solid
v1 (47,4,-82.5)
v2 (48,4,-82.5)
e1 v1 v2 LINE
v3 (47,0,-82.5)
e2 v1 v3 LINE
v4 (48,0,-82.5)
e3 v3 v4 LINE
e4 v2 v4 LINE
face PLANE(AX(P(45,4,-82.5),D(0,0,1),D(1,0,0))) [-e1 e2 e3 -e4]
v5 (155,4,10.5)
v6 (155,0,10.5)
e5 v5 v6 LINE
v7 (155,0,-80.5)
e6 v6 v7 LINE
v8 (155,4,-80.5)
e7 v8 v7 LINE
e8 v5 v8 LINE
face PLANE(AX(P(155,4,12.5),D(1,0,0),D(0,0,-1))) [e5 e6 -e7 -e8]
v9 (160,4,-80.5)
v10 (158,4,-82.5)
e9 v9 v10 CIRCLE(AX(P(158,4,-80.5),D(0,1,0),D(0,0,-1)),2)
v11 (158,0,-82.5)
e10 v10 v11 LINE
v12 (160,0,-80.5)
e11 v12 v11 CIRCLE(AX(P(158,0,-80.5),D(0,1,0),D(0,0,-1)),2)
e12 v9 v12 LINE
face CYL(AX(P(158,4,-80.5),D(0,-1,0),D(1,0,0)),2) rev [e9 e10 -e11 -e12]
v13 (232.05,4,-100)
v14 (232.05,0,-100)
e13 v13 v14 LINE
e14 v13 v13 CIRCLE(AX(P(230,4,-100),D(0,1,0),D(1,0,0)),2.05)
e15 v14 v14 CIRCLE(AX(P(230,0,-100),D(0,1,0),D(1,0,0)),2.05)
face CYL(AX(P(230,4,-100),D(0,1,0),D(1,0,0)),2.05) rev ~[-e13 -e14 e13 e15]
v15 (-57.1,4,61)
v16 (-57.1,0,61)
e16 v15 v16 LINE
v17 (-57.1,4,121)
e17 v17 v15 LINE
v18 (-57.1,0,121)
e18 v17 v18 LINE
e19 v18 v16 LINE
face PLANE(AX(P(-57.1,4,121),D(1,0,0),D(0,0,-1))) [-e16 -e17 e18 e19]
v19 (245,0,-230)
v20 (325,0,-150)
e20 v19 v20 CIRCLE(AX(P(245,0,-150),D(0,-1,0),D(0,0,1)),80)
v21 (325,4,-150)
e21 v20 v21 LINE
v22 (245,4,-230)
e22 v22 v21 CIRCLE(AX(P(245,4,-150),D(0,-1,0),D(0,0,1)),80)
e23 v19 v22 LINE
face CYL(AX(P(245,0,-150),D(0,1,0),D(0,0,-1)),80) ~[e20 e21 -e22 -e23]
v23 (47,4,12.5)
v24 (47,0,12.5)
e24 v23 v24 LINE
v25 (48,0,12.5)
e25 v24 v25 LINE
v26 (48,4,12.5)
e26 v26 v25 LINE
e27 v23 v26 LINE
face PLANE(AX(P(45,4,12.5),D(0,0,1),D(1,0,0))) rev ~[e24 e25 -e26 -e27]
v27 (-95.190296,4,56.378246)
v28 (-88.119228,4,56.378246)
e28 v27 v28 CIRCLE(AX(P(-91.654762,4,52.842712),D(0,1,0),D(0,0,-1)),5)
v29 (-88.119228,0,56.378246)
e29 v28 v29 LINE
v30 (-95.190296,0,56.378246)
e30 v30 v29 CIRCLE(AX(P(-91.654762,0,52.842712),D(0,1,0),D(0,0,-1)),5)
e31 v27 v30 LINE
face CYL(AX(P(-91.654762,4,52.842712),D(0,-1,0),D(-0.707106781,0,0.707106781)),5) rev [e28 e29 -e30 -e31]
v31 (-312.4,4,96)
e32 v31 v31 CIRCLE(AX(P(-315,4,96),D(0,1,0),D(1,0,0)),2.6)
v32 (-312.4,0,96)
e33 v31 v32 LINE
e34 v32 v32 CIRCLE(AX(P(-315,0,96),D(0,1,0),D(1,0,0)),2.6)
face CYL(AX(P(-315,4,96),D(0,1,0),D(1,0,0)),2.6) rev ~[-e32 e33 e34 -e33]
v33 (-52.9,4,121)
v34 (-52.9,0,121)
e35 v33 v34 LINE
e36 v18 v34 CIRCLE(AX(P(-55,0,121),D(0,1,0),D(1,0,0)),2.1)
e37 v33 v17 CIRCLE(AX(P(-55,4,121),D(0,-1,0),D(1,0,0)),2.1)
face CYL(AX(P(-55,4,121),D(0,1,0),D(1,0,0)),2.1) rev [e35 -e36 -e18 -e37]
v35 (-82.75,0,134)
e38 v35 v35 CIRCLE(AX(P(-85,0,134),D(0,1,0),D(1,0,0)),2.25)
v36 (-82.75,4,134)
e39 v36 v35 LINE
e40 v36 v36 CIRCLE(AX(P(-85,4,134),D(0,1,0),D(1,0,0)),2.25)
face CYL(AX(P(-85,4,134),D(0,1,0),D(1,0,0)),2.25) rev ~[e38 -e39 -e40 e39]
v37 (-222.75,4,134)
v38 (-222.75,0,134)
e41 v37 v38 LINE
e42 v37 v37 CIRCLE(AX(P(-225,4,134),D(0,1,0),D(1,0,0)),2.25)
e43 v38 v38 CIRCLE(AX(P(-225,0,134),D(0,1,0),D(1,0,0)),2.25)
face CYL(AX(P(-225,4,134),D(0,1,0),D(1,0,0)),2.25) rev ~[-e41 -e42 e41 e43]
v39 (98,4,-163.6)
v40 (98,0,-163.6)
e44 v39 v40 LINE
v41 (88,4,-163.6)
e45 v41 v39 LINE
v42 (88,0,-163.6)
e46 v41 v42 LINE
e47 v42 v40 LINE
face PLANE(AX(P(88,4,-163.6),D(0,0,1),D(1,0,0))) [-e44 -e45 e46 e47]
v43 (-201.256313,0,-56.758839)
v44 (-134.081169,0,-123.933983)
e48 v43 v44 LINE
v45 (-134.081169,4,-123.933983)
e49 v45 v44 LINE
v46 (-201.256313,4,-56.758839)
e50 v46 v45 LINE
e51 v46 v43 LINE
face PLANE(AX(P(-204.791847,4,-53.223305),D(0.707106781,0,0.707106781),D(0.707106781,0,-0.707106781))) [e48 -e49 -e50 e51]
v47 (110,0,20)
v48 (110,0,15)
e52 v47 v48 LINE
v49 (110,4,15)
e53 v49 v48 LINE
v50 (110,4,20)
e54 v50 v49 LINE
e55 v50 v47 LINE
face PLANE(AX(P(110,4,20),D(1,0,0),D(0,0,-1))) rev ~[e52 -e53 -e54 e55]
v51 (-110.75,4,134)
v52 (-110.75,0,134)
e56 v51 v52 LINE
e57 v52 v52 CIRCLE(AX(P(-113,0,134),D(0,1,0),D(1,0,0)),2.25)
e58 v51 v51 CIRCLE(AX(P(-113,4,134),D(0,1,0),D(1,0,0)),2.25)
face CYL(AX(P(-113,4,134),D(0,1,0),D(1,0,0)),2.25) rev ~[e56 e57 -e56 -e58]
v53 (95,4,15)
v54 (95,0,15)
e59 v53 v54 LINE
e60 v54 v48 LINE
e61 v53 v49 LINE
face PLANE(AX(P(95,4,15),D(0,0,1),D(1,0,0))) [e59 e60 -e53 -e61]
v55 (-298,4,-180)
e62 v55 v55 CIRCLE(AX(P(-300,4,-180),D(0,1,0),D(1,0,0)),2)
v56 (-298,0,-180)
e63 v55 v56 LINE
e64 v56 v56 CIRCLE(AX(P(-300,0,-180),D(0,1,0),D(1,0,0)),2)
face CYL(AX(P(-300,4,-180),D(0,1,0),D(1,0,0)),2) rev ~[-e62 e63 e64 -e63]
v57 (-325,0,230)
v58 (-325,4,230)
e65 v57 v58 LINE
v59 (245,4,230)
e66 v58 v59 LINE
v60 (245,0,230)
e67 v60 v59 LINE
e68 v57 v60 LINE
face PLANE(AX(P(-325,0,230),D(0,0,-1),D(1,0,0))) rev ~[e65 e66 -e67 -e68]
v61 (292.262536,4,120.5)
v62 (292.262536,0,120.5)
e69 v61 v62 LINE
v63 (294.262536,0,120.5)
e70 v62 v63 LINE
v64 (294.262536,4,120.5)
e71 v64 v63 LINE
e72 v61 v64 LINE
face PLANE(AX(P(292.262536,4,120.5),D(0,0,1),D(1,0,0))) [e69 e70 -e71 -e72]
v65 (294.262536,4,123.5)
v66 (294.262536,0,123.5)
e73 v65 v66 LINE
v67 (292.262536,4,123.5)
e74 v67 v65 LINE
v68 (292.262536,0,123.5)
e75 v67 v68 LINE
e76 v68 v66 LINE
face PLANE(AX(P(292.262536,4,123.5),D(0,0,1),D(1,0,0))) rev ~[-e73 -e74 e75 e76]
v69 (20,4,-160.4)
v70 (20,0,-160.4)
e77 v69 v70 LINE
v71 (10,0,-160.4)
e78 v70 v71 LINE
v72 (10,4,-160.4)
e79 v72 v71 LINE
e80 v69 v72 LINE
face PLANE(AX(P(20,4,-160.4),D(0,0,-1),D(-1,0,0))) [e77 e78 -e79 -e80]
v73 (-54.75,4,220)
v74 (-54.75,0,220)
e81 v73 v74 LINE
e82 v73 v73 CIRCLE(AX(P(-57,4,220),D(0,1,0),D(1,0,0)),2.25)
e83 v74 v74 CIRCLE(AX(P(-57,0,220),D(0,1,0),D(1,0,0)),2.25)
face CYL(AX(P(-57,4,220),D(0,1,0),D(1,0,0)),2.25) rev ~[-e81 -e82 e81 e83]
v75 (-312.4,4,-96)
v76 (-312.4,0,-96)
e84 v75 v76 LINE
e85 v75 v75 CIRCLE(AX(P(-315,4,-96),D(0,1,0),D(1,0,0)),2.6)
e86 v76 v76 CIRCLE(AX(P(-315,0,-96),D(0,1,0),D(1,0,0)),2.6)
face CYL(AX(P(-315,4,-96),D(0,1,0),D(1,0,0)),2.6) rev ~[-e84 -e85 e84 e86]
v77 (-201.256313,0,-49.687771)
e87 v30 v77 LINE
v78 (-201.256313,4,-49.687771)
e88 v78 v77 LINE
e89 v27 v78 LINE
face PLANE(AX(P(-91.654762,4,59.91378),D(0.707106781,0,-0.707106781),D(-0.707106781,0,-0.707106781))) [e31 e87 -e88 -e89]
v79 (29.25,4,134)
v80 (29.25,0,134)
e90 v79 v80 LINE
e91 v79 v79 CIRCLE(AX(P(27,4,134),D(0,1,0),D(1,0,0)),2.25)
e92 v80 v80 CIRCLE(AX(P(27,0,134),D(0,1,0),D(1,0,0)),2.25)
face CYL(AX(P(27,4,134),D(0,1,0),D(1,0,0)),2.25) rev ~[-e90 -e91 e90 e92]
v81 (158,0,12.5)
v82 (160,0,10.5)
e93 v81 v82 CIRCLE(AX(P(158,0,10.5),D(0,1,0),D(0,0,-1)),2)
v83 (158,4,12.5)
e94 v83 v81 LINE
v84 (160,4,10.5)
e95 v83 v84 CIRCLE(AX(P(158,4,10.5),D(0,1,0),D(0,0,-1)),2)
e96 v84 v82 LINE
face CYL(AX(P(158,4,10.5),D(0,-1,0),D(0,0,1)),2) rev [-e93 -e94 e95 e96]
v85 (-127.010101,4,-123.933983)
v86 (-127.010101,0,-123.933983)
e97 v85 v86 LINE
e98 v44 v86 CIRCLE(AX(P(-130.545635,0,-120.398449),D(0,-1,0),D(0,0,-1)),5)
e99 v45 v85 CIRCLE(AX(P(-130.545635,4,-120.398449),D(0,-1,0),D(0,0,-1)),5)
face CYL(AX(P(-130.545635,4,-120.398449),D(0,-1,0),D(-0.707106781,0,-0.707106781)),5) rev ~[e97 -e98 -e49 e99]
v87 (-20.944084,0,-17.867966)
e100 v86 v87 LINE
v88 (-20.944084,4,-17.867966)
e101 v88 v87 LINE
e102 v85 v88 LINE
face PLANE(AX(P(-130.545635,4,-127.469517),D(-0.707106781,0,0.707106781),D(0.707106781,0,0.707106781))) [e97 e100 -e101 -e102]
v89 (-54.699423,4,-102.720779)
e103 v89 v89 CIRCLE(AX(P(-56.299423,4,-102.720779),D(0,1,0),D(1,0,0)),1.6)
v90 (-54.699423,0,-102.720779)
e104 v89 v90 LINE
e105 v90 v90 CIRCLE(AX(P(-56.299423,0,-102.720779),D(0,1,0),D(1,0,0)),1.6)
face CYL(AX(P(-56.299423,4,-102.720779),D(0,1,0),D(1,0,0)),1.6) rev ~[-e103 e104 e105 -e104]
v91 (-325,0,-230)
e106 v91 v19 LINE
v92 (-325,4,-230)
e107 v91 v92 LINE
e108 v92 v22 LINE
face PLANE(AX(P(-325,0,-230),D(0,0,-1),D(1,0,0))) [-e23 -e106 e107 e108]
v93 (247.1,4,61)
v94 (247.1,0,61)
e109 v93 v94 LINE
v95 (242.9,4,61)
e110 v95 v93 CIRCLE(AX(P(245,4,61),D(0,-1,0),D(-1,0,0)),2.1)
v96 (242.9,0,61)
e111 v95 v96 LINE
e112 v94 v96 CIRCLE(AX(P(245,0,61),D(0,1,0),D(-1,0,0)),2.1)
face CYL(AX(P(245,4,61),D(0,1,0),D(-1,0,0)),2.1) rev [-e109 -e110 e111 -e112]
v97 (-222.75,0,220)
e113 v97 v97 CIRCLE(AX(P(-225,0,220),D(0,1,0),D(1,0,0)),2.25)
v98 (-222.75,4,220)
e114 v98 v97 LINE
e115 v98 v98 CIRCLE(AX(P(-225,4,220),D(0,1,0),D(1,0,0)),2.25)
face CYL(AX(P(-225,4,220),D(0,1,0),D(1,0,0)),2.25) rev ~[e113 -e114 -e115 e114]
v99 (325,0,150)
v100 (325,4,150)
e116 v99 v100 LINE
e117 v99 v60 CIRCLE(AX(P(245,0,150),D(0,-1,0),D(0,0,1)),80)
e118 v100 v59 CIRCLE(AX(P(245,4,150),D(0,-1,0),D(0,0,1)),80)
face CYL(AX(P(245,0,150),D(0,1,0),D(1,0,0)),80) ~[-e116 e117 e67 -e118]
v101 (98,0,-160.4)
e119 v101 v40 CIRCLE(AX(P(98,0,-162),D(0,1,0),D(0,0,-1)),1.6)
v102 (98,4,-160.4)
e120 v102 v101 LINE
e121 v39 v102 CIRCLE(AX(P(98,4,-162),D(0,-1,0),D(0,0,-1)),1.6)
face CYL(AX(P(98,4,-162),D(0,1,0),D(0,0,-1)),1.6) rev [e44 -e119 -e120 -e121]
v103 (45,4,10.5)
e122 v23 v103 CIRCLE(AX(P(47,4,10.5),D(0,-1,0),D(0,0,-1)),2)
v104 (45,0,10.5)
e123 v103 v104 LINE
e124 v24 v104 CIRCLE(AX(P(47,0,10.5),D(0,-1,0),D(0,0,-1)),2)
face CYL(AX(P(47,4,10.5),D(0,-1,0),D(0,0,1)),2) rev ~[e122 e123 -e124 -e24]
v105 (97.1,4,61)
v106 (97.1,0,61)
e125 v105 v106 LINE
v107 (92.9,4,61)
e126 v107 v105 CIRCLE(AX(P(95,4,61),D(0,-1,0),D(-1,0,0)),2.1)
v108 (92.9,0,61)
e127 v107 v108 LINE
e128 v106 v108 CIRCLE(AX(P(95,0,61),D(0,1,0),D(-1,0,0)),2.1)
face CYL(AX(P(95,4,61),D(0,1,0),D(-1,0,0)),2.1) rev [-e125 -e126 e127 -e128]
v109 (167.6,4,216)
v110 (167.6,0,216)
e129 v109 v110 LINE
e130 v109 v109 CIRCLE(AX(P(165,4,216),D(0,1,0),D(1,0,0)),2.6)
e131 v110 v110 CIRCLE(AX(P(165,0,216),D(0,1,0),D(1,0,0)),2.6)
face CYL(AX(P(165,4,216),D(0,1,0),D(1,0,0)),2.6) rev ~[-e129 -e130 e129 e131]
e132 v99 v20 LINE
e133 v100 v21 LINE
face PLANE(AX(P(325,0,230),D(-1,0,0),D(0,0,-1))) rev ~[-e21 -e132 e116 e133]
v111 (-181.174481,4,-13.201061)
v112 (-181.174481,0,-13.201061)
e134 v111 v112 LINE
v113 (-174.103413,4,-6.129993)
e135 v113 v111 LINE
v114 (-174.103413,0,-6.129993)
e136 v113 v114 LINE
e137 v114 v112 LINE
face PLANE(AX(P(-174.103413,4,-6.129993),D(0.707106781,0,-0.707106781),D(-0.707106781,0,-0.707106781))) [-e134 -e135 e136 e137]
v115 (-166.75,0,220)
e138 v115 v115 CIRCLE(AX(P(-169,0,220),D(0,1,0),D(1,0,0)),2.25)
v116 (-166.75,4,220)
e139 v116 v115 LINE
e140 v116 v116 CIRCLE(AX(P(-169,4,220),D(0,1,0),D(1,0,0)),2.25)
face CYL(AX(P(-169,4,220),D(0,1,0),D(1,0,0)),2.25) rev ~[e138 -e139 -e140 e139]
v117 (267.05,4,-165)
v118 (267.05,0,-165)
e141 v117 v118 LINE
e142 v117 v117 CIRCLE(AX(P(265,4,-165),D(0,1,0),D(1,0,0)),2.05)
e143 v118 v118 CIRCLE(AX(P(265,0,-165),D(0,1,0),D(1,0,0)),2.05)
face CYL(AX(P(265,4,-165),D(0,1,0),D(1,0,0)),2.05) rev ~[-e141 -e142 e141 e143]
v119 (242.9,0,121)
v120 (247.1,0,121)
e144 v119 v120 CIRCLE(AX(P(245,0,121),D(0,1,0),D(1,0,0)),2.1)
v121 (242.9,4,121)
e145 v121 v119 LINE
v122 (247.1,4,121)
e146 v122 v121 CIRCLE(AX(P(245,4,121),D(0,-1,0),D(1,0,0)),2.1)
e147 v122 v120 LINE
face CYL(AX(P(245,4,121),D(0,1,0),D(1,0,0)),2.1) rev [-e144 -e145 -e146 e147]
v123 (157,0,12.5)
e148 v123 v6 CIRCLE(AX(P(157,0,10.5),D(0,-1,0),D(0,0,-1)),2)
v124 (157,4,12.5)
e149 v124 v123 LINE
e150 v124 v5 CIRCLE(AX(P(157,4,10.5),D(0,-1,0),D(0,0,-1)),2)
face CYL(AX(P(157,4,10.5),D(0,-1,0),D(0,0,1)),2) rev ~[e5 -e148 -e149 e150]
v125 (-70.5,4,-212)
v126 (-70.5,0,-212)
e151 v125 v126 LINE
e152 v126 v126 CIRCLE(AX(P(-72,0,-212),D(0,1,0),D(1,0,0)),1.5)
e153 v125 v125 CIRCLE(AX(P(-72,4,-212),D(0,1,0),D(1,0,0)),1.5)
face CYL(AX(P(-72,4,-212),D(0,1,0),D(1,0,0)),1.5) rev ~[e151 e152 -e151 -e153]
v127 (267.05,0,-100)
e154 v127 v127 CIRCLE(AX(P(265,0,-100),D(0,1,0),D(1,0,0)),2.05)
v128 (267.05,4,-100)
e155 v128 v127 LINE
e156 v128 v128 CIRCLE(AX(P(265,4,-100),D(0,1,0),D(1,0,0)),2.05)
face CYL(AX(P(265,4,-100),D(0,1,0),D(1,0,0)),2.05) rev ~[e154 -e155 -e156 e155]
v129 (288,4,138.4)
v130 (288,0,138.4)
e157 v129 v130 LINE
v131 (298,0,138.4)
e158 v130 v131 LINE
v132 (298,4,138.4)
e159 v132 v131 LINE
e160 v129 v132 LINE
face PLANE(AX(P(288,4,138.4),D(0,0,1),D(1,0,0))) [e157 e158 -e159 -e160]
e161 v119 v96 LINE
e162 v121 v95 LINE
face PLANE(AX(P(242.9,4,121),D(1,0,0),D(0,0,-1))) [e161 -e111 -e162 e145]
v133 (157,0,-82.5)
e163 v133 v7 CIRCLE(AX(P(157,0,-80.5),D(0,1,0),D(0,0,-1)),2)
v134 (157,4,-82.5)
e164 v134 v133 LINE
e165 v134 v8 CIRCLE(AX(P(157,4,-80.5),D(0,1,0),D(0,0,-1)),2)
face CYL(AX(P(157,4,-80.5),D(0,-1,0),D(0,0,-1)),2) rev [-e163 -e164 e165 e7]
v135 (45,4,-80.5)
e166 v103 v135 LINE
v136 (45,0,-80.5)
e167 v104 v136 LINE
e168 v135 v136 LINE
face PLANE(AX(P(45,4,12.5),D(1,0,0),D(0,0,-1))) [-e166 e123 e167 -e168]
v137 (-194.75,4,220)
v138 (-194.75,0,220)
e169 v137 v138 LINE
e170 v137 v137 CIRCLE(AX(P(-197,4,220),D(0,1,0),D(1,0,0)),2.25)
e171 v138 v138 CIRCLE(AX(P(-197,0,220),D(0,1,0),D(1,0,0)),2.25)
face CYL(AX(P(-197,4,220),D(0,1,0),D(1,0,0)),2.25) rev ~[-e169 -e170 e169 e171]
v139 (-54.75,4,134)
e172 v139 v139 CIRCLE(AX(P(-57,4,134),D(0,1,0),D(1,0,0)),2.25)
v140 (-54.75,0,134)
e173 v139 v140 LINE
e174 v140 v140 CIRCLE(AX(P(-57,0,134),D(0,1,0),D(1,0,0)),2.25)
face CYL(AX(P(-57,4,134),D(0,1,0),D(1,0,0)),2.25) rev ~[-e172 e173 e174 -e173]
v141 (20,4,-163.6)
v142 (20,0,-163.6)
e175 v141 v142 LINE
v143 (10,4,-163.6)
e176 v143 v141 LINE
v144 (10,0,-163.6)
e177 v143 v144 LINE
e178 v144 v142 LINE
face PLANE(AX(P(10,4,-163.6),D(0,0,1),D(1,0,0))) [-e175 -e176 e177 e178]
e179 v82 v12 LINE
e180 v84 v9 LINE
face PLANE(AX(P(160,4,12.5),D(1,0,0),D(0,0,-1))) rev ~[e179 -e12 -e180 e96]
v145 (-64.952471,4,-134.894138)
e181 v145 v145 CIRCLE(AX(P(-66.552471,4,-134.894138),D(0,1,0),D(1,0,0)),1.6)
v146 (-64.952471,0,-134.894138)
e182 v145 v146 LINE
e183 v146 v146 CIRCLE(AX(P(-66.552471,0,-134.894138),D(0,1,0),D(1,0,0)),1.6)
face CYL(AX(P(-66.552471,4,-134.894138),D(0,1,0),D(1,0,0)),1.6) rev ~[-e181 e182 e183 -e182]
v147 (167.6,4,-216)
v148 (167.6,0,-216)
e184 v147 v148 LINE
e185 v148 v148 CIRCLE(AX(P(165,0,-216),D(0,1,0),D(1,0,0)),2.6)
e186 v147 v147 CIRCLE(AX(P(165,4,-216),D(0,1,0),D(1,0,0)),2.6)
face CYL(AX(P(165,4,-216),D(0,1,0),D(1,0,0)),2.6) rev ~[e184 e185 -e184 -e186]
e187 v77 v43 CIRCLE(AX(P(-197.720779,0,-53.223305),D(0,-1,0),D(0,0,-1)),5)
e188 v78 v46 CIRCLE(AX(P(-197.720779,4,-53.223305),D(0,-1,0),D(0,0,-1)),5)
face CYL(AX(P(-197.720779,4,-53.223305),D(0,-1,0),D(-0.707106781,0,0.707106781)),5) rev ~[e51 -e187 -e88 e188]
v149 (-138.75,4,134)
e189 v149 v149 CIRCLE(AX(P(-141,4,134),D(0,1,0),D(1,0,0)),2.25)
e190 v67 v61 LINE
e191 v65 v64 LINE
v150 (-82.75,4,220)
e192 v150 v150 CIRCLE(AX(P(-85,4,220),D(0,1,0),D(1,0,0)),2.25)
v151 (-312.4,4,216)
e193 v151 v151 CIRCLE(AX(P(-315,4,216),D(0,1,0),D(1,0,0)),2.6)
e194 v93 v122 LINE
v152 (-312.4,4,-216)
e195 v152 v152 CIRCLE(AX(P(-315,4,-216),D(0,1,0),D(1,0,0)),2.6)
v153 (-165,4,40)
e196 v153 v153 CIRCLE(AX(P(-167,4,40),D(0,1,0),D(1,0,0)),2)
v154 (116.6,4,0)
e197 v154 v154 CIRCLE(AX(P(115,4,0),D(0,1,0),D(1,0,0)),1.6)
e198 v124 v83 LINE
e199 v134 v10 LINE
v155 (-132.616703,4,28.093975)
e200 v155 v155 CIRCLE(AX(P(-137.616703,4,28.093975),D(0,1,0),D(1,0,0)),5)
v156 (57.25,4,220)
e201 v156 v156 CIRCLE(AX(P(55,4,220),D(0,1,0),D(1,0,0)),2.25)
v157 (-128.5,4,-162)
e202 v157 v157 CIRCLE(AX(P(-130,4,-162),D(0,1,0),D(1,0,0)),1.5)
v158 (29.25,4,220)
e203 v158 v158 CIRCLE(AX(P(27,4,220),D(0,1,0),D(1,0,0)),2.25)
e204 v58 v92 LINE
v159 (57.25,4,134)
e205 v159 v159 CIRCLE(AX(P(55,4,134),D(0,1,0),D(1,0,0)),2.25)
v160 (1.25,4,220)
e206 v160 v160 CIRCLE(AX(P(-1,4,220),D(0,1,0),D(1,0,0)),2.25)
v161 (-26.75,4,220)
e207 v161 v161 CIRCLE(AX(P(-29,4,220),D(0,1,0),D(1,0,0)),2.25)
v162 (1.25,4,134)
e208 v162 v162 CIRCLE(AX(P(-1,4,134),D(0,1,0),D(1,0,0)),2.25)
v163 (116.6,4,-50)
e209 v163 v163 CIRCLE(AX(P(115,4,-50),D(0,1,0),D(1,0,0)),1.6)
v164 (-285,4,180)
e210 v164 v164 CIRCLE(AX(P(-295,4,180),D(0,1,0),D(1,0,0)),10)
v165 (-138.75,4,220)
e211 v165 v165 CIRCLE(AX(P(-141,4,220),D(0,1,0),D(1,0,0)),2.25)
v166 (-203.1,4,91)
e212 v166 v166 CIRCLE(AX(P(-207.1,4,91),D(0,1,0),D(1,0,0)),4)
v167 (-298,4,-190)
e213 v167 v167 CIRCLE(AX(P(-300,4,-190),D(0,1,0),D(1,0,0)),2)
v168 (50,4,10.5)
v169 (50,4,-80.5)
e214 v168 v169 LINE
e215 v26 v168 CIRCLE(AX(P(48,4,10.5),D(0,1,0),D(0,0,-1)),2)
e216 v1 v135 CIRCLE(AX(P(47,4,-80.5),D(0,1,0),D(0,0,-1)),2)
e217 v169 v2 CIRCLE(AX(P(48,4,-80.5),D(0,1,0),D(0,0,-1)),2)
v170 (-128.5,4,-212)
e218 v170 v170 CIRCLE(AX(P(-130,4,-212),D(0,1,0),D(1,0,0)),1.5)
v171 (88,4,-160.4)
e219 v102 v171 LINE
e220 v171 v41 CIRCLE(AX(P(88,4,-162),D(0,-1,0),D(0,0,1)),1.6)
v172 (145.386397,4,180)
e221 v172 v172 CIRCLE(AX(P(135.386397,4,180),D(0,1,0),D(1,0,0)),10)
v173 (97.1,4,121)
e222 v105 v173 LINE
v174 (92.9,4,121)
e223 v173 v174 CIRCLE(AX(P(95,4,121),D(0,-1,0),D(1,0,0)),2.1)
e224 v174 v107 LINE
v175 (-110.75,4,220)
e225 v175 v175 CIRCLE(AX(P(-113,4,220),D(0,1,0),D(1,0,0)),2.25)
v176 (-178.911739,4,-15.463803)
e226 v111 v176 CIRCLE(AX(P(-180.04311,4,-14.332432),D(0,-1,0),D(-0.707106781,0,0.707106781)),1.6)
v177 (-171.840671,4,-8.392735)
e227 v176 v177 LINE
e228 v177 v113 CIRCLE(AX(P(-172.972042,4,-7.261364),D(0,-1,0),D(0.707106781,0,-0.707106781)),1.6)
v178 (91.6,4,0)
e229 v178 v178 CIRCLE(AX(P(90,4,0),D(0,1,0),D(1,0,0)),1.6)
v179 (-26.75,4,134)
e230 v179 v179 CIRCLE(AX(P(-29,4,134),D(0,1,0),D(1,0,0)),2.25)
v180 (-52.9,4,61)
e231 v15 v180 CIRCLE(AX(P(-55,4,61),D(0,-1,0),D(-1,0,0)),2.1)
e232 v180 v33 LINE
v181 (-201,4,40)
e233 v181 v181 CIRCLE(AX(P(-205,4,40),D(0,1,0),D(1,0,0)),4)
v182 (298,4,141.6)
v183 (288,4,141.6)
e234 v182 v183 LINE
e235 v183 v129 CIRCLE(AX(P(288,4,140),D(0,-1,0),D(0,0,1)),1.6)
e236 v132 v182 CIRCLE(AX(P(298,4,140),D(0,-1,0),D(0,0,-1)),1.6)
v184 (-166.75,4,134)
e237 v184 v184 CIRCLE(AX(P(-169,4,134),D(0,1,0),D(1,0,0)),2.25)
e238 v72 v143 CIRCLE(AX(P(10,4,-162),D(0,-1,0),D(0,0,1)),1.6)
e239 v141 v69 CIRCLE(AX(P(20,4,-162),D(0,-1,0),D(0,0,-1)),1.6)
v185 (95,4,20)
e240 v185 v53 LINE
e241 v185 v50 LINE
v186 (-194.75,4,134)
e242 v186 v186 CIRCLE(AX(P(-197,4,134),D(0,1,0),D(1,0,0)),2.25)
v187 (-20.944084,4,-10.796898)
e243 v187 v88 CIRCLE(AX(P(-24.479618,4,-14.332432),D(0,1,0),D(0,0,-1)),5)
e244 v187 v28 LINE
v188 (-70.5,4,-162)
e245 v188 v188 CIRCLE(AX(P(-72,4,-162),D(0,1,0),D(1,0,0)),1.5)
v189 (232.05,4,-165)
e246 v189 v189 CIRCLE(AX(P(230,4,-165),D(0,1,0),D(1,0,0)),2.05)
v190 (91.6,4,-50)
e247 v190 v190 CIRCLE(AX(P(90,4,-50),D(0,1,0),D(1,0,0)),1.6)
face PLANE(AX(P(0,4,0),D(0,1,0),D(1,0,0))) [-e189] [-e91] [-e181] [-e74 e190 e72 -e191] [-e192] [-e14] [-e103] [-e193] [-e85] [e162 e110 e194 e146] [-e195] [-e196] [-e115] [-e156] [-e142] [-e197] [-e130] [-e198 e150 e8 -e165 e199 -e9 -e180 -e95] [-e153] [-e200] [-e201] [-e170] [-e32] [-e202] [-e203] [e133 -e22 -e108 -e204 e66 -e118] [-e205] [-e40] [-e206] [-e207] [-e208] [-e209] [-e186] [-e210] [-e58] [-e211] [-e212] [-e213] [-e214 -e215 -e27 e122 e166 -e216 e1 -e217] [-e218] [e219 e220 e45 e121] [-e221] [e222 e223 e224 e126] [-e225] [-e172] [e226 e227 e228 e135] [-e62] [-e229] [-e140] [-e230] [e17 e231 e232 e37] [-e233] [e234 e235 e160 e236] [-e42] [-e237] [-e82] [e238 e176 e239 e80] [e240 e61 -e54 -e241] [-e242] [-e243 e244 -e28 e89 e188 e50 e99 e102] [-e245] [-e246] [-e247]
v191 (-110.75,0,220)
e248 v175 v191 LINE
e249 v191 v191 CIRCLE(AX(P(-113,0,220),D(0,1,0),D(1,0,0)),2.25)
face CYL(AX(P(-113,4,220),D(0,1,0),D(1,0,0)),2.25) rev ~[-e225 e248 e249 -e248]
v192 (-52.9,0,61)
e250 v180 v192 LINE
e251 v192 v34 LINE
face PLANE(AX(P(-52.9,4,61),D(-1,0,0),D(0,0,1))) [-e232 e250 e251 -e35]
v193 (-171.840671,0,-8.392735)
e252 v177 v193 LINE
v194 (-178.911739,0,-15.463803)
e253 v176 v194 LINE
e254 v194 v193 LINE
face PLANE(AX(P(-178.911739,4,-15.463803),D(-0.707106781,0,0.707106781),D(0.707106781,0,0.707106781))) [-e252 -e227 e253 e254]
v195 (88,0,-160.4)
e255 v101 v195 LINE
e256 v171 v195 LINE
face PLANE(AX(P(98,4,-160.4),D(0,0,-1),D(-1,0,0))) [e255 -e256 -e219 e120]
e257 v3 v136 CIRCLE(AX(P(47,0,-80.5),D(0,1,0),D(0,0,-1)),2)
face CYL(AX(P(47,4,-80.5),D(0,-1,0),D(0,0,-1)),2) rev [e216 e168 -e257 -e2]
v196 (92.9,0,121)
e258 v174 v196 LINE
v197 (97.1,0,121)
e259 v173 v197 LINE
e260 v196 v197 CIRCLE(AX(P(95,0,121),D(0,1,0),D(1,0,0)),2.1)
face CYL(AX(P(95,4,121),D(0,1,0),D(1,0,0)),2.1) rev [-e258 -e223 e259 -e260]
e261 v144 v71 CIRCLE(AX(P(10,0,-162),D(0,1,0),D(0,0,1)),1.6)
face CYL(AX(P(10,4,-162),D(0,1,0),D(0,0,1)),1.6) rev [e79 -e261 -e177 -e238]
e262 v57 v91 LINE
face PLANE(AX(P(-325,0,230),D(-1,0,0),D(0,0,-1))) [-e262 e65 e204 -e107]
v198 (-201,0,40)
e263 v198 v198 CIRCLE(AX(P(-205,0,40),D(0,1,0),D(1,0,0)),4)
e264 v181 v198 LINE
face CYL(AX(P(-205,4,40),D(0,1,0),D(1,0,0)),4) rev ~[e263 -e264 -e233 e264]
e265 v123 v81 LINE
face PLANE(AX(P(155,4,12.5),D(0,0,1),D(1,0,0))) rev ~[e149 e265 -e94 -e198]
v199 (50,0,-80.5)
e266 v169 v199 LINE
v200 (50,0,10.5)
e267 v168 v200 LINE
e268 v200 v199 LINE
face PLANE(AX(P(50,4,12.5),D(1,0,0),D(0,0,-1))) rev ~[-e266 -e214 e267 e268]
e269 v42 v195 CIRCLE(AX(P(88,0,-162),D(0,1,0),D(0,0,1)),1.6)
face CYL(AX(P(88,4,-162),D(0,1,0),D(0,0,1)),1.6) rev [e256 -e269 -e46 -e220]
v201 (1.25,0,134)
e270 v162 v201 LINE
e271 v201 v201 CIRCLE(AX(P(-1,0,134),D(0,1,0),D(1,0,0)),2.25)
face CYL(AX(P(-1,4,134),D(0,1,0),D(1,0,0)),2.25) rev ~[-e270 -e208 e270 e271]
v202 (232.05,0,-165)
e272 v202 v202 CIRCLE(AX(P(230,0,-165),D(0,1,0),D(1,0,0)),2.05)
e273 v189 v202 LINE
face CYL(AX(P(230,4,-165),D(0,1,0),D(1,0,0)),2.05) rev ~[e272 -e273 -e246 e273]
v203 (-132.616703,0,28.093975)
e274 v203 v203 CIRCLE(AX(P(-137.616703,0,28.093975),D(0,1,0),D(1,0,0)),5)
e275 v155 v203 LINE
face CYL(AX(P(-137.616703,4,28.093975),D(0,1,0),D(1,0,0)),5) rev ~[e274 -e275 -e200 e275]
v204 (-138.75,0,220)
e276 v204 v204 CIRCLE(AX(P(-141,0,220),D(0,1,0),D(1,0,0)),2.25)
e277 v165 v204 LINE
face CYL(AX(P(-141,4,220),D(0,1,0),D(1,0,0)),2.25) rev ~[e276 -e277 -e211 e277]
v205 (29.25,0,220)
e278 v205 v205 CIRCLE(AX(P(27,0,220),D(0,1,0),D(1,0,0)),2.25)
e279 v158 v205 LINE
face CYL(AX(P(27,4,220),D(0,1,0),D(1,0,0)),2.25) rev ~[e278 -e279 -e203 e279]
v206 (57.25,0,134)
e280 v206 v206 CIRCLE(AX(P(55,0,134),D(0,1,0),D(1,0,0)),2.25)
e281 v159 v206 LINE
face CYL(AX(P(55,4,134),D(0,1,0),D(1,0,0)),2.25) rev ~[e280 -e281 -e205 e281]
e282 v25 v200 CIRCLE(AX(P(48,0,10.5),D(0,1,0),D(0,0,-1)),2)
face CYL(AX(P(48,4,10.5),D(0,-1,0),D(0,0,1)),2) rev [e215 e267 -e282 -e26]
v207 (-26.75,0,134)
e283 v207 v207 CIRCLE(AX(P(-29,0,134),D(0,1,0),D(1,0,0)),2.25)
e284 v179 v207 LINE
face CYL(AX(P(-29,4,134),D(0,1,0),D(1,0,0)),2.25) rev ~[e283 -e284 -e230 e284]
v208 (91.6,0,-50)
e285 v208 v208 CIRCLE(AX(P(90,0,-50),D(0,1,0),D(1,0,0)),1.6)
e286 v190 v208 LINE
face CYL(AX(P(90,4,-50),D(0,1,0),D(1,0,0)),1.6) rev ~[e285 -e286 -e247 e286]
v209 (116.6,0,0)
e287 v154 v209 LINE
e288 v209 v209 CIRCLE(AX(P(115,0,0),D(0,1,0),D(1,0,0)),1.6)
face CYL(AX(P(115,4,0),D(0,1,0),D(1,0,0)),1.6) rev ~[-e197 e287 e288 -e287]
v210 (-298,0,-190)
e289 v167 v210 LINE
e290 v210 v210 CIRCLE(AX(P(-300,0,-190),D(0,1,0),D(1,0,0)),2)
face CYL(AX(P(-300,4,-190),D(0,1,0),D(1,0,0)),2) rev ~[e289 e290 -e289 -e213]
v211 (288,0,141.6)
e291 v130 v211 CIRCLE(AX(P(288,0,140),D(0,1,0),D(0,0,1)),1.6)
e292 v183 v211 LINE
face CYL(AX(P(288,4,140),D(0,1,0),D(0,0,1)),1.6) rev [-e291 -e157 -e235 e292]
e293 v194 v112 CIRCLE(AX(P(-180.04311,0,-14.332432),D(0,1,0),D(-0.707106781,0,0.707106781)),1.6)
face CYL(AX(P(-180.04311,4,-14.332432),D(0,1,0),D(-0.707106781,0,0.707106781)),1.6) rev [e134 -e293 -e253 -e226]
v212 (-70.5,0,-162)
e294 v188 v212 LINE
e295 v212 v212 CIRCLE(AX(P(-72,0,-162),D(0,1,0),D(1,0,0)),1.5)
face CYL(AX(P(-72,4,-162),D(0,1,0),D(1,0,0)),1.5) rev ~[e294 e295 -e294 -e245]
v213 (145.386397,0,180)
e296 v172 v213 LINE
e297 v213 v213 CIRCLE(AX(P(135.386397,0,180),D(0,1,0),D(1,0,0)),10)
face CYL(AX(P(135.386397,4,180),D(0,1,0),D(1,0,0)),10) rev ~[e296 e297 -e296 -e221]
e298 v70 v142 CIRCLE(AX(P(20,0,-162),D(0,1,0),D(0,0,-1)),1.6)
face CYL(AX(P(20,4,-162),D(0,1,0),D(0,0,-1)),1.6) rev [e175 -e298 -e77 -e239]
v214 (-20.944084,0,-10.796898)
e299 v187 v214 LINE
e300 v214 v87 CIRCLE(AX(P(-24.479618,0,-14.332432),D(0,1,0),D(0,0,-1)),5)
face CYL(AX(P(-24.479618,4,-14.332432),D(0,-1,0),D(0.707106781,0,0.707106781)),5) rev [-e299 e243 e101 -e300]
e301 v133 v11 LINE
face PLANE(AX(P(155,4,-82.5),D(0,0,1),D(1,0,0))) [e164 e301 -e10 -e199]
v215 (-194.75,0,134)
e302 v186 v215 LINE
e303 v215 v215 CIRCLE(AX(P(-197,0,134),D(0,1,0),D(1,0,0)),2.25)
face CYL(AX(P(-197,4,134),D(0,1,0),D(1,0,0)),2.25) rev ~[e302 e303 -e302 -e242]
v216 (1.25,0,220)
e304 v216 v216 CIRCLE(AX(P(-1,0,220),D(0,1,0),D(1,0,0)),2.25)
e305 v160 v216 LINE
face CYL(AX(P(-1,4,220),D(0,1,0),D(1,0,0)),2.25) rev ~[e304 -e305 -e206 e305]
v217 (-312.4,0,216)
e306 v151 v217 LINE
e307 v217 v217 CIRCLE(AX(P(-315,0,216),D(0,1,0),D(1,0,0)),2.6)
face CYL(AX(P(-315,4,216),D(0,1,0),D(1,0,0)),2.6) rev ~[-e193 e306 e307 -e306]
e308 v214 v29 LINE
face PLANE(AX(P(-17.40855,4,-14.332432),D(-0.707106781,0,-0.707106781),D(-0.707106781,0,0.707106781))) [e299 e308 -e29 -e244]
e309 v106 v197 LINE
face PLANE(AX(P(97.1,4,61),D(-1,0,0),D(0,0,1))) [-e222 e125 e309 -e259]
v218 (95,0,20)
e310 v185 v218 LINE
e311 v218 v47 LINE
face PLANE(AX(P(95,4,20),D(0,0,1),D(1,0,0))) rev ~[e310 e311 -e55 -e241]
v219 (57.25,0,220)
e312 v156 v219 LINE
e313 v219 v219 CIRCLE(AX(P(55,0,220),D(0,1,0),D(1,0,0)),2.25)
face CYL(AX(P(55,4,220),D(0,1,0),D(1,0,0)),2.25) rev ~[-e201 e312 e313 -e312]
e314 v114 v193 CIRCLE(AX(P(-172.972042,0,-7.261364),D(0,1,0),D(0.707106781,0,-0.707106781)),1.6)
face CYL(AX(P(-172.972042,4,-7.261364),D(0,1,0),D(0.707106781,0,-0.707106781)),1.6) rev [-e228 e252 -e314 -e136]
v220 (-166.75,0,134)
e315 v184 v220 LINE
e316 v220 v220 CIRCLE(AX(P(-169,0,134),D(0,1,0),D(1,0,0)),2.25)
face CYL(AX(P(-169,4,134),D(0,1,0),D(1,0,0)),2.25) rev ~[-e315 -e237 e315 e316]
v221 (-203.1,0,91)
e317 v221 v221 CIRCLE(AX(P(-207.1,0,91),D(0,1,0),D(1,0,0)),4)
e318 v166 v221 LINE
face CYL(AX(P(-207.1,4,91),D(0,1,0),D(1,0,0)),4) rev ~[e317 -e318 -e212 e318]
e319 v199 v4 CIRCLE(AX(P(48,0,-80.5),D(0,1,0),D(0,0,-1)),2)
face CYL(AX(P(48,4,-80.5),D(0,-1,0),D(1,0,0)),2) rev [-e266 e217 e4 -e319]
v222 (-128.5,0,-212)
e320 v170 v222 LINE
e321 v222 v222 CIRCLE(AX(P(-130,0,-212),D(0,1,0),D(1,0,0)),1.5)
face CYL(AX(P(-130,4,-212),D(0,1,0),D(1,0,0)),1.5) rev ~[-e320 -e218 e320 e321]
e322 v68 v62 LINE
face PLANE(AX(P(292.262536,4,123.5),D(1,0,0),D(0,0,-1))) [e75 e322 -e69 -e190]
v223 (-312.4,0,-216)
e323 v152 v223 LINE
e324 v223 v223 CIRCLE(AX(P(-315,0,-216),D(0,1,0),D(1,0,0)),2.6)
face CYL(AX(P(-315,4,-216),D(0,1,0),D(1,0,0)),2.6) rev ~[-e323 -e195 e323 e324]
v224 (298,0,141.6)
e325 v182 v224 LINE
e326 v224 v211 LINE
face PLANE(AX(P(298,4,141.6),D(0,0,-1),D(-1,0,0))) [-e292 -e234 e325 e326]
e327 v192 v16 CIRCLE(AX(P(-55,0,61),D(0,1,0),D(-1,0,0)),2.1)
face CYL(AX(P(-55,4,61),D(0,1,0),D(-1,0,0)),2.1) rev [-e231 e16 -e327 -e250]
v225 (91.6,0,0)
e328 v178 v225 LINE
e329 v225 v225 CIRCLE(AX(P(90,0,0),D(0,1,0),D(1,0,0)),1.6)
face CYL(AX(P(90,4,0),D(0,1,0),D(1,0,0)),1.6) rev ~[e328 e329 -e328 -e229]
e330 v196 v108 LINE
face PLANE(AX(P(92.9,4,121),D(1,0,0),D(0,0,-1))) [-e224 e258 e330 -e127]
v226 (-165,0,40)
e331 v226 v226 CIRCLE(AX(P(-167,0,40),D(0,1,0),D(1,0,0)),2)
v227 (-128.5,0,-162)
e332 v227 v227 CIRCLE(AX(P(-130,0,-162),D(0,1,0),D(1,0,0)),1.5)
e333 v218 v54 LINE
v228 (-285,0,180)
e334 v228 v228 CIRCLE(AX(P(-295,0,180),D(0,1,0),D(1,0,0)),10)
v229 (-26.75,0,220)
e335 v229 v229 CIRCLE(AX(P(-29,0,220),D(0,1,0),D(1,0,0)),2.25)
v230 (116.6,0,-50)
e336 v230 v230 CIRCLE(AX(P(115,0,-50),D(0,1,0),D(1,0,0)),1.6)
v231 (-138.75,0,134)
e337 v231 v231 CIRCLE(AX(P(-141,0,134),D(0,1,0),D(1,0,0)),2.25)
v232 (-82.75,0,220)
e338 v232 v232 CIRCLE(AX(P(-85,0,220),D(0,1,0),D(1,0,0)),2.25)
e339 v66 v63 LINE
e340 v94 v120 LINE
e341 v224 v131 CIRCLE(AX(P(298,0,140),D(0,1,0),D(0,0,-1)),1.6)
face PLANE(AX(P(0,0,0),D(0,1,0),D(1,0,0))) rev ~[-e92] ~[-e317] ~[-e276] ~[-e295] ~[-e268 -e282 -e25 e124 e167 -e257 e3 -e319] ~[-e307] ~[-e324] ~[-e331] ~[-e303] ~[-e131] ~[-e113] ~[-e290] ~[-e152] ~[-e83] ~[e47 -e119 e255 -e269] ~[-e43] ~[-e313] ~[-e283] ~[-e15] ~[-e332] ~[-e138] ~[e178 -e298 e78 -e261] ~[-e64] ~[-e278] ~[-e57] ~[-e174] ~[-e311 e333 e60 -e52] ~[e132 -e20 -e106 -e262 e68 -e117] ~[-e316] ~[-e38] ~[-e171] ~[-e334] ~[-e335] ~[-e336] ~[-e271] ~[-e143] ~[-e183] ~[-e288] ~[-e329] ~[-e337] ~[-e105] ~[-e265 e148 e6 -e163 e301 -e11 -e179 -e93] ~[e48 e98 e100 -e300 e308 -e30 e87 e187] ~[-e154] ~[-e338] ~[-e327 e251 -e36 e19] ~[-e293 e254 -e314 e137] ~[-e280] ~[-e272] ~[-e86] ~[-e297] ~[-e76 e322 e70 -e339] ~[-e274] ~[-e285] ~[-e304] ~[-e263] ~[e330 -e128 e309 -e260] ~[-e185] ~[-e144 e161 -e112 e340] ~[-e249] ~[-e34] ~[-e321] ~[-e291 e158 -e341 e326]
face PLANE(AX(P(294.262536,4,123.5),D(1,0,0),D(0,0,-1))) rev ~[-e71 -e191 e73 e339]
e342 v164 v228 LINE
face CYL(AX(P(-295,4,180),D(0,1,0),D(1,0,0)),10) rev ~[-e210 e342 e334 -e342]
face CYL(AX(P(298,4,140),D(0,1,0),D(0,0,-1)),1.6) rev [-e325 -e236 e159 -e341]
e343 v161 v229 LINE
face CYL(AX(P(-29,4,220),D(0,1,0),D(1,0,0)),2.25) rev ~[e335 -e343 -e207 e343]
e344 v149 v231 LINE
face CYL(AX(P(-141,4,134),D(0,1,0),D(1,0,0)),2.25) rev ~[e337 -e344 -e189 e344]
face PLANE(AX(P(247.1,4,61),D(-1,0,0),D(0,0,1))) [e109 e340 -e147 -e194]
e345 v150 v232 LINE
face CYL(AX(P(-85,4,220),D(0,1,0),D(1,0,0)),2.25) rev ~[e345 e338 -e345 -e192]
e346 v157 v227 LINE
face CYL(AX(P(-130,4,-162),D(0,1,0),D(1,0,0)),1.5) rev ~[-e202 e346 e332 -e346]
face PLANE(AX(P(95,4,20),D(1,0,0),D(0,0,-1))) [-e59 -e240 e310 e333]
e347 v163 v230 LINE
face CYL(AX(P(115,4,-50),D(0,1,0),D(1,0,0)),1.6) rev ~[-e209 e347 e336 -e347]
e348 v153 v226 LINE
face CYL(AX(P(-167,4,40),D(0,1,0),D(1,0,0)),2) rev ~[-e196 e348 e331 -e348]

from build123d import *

# Parameters (mm, degrees)
SKETCH_1_W             = 650
SKETCH_1_H             = 460
EXTRUDE_1_DEPTH        = 4
SKETCH_3_R             = 2.05
CUT_EXTRUDE_2_DEPTH    = 5
CUT_EXTRUDE_1515_DEPTH = 5
SKETCH_5_R             = 2.6
CUT_EXTRUDE_2177_DEPTH = 5
FILLET_1_R             = 80
CUT_EXTRUDE_2788_DEPTH = 5
CUT_EXTRUDE_3372_DEPTH = 5
SKETCH_8_R             = 1.5
CUT_EXTRUDE_3986_DEPTH = 5
SKETCH_9_R             = 2.25
CUT_EXTRUDE_4689_DEPTH = 5
FILLET_2_R             = 80
SKETCH_10_R            = 1.6
SKETCH_10_W            = 5
SKETCH_10_H            = 95
CUT_EXTRUDE_5264_DEPTH = 5
FILLET_3_R             = 5
FILLET_4_R             = 2
SKETCH_11_W            = 2
SKETCH_11_H            = 3
CUT_EXTRUDE_6150_DEPTH = 5
CUT_EXTRUDE_6369_DEPTH = 5
SKETCH_13_W            = 15
SKETCH_13_H            = 5
CUT_EXTRUDE_6552_DEPTH = 5
SKETCH_15_R            = 2
SKETCH_15_R_2          = 4
CUT_EXTRUDE_6861_DEPTH = 5
SKETCH_16_R            = 5
SKETCH_16_R_2          = 10
SKETCH_16_R_3          = 4
CUT_EXTRUDE_12_DEPTH   = 5
SKETCH_17_R            = 2
CUT_EXTRUDE_13_DEPTH   = 5
SKETCH_18_R            = 1.6
CUT_EXTRUDE_14_DEPTH   = 5


with BuildPart() as part:
    # 草图1 → 凸台-拉伸1 (new body)
    with BuildSketch(Plane(origin=(0, 0, 0), x_dir=(1, 0, 0), z_dir=(0, 1, 0))):
        Rectangle(SKETCH_1_W, SKETCH_1_H)
    extrude(amount=EXTRUDE_1_DEPTH)

    # 草图3 → 切除-拉伸2 (cut, through all)
    with BuildSketch(Plane(origin=(0, 4, 0), x_dir=(1, 0, 0), z_dir=(0, 1, 0))):
        with Locations((230, 165)):
            Circle(SKETCH_3_R)
        with Locations((265, 165)):
            Circle(SKETCH_3_R)
        with Locations((265, 100)):
            Circle(SKETCH_3_R)
        with Locations((230, 100)):
            Circle(SKETCH_3_R)
    extrude(amount=-CUT_EXTRUDE_2_DEPTH, mode=Mode.SUBTRACT)

    # 草图4 → Cut-Extrude 1515 (cut, through all)
    with BuildSketch(Plane(origin=(0, 4, 0), x_dir=(1, 0, 0), z_dir=(0, 1, 0))):
        Polygon((-204.791847198, 53.223304703), (-130.545635174, 127.469516728), (-17.408550184, 14.332431738), (-91.654762208, -59.913780286), align=None)
    extrude(amount=-CUT_EXTRUDE_1515_DEPTH, mode=Mode.SUBTRACT)

    # 草图5 → Cut-Extrude 2177 (cut, through all)
    with BuildSketch(Plane(origin=(0, 4, 0), x_dir=(1, 0, 0), z_dir=(0, 1, 0))):
        with Locations((165, -216)):
            Circle(SKETCH_5_R)
        with Locations((-315, -216)):
            Circle(SKETCH_5_R)
        with Locations((-315, 216)):
            Circle(SKETCH_5_R)
        with Locations((165, 216)):
            Circle(SKETCH_5_R)
        with Locations((-315, 96)):
            Circle(SKETCH_5_R)
        with Locations((-315, -96)):
            Circle(SKETCH_5_R)
    extrude(amount=-CUT_EXTRUDE_2177_DEPTH, mode=Mode.SUBTRACT)

    # 圆角1
    fillet_1_edges = [part.edges().sort_by_distance(p)[0] for p in [
        (325, 2, -230),
    ]]
    fillet(fillet_1_edges, radius=FILLET_1_R)

    # 草图6 → Cut-Extrude 2788 (cut, through all)
    with BuildSketch(Plane(origin=(0, 4, 0), x_dir=(1, 0, 0), z_dir=(0, 1, 0))):
        with BuildLine():
            Line((10, 163.6), (20, 163.6))
            ThreePointArc((20, 163.6), (21.6, 162), (20, 160.4))
            Line((20, 160.4), (10, 160.4))
            ThreePointArc((10, 160.4), (8.4, 162), (10, 163.6))
        make_face()
        with BuildLine():
            Line((88, 163.6), (98, 163.6))
            ThreePointArc((98, 163.6), (99.6, 162), (98, 160.4))
            Line((98, 160.4), (88, 160.4))
            ThreePointArc((88, 160.4), (86.4, 162), (88, 163.6))
        make_face()
    extrude(amount=-CUT_EXTRUDE_2788_DEPTH, mode=Mode.SUBTRACT)

    # 草图7 → Cut-Extrude 3372 (cut, through all)
    with BuildSketch(Plane(origin=(0, 4, 0), x_dir=(1, 0, 0), z_dir=(0, 1, 0))):
        with BuildLine():
            Line((247.1, -61), (247.1, -121))
            ThreePointArc((247.1, -121), (245, -123.1), (242.9, -121))
            Line((242.9, -121), (242.9, -61))
            ThreePointArc((242.9, -61), (245, -58.9), (247.1, -61))
        make_face()
        with BuildLine():
            Line((97.1, -61), (97.1, -121))
            ThreePointArc((97.1, -121), (95, -123.1), (92.9, -121))
            Line((92.9, -121), (92.9, -61))
            ThreePointArc((92.9, -61), (95, -58.9), (97.1, -61))
        make_face()
        with BuildLine():
            Line((-52.9, -61), (-52.9, -121))
            ThreePointArc((-52.9, -121), (-55, -123.1), (-57.1, -121))
            Line((-57.1, -121), (-57.1, -61))
            ThreePointArc((-57.1, -61), (-55, -58.9), (-52.9, -61))
        make_face()
    extrude(amount=-CUT_EXTRUDE_3372_DEPTH, mode=Mode.SUBTRACT)

    # 草图8 → Cut-Extrude 3986 (cut, through all)
    with BuildSketch(Plane(origin=(0, 4, 0), x_dir=(1, 0, 0), z_dir=(0, 1, 0))):
        with Locations((-130, 212)):
            Circle(SKETCH_8_R)
        with Locations((-72, 212)):
            Circle(SKETCH_8_R)
        with Locations((-72, 162)):
            Circle(SKETCH_8_R)
        with Locations((-130, 162)):
            Circle(SKETCH_8_R)
    extrude(amount=-CUT_EXTRUDE_3986_DEPTH, mode=Mode.SUBTRACT)

    # 草图9 → Cut-Extrude 4689 (cut, through all)
    with BuildSketch(Plane(origin=(0, 4, 0), x_dir=(1, 0, 0), z_dir=(0, 1, 0))):
        with Locations((-225, -220)):
            Circle(SKETCH_9_R)
        with Locations((-197, -220)):
            Circle(SKETCH_9_R)
        with Locations((-169, -220)):
            Circle(SKETCH_9_R)
        with Locations((-141, -220)):
            Circle(SKETCH_9_R)
        with Locations((-113, -220)):
            Circle(SKETCH_9_R)
        with Locations((-85, -220)):
            Circle(SKETCH_9_R)
        with Locations((-57, -220)):
            Circle(SKETCH_9_R)
        with Locations((-29, -220)):
            Circle(SKETCH_9_R)
        with Locations((-1, -220)):
            Circle(SKETCH_9_R)
        with Locations((27, -220)):
            Circle(SKETCH_9_R)
        with Locations((55, -220)):
            Circle(SKETCH_9_R)
        with Locations((-197, -134)):
            Circle(SKETCH_9_R)
        with Locations((-169, -134)):
            Circle(SKETCH_9_R)
        with Locations((-141, -134)):
            Circle(SKETCH_9_R)
        with Locations((-113, -134)):
            Circle(SKETCH_9_R)
        with Locations((-85, -134)):
            Circle(SKETCH_9_R)
        with Locations((-57, -134)):
            Circle(SKETCH_9_R)
        with Locations((-29, -134)):
            Circle(SKETCH_9_R)
        with Locations((-1, -134)):
            Circle(SKETCH_9_R)
        with Locations((27, -134)):
            Circle(SKETCH_9_R)
        with Locations((55, -134)):
            Circle(SKETCH_9_R)
        with Locations((-225, -134)):
            Circle(SKETCH_9_R)
    extrude(amount=-CUT_EXTRUDE_4689_DEPTH, mode=Mode.SUBTRACT)

    # 圆角2
    fillet_2_edges = [part.edges().sort_by_distance(p)[0] for p in [
        (325, 2, 230),
    ]]
    fillet(fillet_2_edges, radius=FILLET_2_R)

    # 草图10 → Cut-Extrude 5264 (cut, through all)
    with BuildSketch(Plane(origin=(0, 4, 0), x_dir=(1, 0, 0), z_dir=(0, 1, 0))):
        with Locations((115, 50)):
            Circle(SKETCH_10_R)
        with Locations((115, 0)):
            Circle(SKETCH_10_R)
        with Locations((90, 0)):
            Circle(SKETCH_10_R)
        with Locations((90, 50)):
            Circle(SKETCH_10_R)
        with Locations((47.5, 35)):
            Rectangle(SKETCH_10_W, SKETCH_10_H)
        with Locations((157.5, 35)):
            Rectangle(SKETCH_10_W, SKETCH_10_H)
    extrude(amount=-CUT_EXTRUDE_5264_DEPTH, mode=Mode.SUBTRACT)

    # 圆角3
    fillet_3_edges = [part.edges().sort_by_distance(p)[0] for p in [
        (-91.654762208, 2, 59.913780286),
        (-204.791847198, 2, -53.223304703),
        (-130.545635174, 2, -127.469516728),
        (-17.408550184, 2, -14.332431738),
    ]]
    fillet(fillet_3_edges, radius=FILLET_3_R)

    # 圆角4
    fillet_4_edges = [part.edges().sort_by_distance(p)[0] for p in [
        (155, 2, 12.5),
        (155, 2, -82.5),
        (160, 2, -82.5),
        (160, 2, 12.5),
        (50, 2, -82.5),
        (50, 2, 12.5),
        (45, 2, 12.5),
        (45, 2, -82.5),
    ]]
    fillet(fillet_4_edges, radius=FILLET_4_R)

    # 草图11 → Cut-Extrude 6150 (cut, through all)
    with BuildSketch(Plane(origin=(0, 4, 0), x_dir=(1, 0, 0), z_dir=(0, 1, 0))):
        with BuildLine():
            Line((288, -138.4), (298, -138.4))
            ThreePointArc((298, -138.4), (299.6, -140), (298, -141.6))
            Line((298, -141.6), (288, -141.6))
            ThreePointArc((288, -141.6), (286.4, -140), (288, -138.4))
        make_face()
        with Locations((293.262535805, -122)):
            Rectangle(SKETCH_11_W, SKETCH_11_H)
    extrude(amount=-CUT_EXTRUDE_6150_DEPTH, mode=Mode.SUBTRACT)

    # 草图12 → Cut-Extrude 6369 (cut, through all)
    with BuildSketch(Plane(origin=(0, 4, 0), x_dir=(1, 0, 0), z_dir=(0, 1, 0))):
        with BuildLine():
            Line((-178.911739007, 15.463802588), (-171.840671195, 8.392734776))
            ThreePointArc((-171.840671195, 8.392734776), (-171.840671195, 6.129993076), (-174.103412895, 6.129993076))
            Line((-174.103412895, 6.129993076), (-181.174480707, 13.201060888))
            ThreePointArc((-181.174480707, 13.201060888), (-181.174480707, 15.463802588), (-178.911739007, 15.463802588))
        make_face()
    extrude(amount=-CUT_EXTRUDE_6369_DEPTH, mode=Mode.SUBTRACT)

    # 草图13 → Cut-Extrude 6552 (cut, through all)
    with BuildSketch(Plane(origin=(0, 4, 0), x_dir=(1, 0, 0), z_dir=(0, 1, 0))):
        with Locations((102.5, -17.5)):
            Rectangle(SKETCH_13_W, SKETCH_13_H)
    extrude(amount=-CUT_EXTRUDE_6552_DEPTH, mode=Mode.SUBTRACT)

    # 草图15 → Cut-Extrude 6861 (cut, through all)
    with BuildSketch(Plane(origin=(0, 4, 0), x_dir=(1, 0, 0), z_dir=(0, 1, 0))):
        with Locations((-167, -40)):
            Circle(SKETCH_15_R)
        with Locations((-205, -40)):
            Circle(SKETCH_15_R_2)
    extrude(amount=-CUT_EXTRUDE_6861_DEPTH, mode=Mode.SUBTRACT)

    # 草图16 → 切除-拉伸12 (cut, through all)
    with BuildSketch(Plane(origin=(0, 4, 0), x_dir=(1, 0, 0), z_dir=(0, 1, 0))):
        with Locations((-137.616702986, -28.093975133)):
            Circle(SKETCH_16_R)
        with Locations((-295, -180)):
            Circle(SKETCH_16_R_2)
        with Locations((135.386397476, -180)):
            Circle(SKETCH_16_R_2)
        with Locations((-207.1, -91)):
            Circle(SKETCH_16_R_3)
    extrude(amount=-CUT_EXTRUDE_12_DEPTH, mode=Mode.SUBTRACT)

    # 草图17 → 切除-拉伸13 (cut, through all)
    with BuildSketch(Plane(origin=(0, 4, 0), x_dir=(1, 0, 0), z_dir=(0, 1, 0))):
        with Locations((-300, 190)):
            Circle(SKETCH_17_R)
        with Locations((-300, 180)):
            Circle(SKETCH_17_R)
    extrude(amount=-CUT_EXTRUDE_13_DEPTH, mode=Mode.SUBTRACT)

    # 草图18 → 切除-拉伸14 (cut, through all)
    with BuildSketch(Plane(origin=(0, 4, 0), x_dir=(1, 0, 0), z_dir=(0, 1, 0))):
        with Locations((-66.552471476, 134.89413793)):
            Circle(SKETCH_18_R)
        with Locations((-56.299423149, 102.720779386)):
            Circle(SKETCH_18_R)
    extrude(amount=-CUT_EXTRUDE_14_DEPTH, mode=Mode.SUBTRACT)


solid = part.part
